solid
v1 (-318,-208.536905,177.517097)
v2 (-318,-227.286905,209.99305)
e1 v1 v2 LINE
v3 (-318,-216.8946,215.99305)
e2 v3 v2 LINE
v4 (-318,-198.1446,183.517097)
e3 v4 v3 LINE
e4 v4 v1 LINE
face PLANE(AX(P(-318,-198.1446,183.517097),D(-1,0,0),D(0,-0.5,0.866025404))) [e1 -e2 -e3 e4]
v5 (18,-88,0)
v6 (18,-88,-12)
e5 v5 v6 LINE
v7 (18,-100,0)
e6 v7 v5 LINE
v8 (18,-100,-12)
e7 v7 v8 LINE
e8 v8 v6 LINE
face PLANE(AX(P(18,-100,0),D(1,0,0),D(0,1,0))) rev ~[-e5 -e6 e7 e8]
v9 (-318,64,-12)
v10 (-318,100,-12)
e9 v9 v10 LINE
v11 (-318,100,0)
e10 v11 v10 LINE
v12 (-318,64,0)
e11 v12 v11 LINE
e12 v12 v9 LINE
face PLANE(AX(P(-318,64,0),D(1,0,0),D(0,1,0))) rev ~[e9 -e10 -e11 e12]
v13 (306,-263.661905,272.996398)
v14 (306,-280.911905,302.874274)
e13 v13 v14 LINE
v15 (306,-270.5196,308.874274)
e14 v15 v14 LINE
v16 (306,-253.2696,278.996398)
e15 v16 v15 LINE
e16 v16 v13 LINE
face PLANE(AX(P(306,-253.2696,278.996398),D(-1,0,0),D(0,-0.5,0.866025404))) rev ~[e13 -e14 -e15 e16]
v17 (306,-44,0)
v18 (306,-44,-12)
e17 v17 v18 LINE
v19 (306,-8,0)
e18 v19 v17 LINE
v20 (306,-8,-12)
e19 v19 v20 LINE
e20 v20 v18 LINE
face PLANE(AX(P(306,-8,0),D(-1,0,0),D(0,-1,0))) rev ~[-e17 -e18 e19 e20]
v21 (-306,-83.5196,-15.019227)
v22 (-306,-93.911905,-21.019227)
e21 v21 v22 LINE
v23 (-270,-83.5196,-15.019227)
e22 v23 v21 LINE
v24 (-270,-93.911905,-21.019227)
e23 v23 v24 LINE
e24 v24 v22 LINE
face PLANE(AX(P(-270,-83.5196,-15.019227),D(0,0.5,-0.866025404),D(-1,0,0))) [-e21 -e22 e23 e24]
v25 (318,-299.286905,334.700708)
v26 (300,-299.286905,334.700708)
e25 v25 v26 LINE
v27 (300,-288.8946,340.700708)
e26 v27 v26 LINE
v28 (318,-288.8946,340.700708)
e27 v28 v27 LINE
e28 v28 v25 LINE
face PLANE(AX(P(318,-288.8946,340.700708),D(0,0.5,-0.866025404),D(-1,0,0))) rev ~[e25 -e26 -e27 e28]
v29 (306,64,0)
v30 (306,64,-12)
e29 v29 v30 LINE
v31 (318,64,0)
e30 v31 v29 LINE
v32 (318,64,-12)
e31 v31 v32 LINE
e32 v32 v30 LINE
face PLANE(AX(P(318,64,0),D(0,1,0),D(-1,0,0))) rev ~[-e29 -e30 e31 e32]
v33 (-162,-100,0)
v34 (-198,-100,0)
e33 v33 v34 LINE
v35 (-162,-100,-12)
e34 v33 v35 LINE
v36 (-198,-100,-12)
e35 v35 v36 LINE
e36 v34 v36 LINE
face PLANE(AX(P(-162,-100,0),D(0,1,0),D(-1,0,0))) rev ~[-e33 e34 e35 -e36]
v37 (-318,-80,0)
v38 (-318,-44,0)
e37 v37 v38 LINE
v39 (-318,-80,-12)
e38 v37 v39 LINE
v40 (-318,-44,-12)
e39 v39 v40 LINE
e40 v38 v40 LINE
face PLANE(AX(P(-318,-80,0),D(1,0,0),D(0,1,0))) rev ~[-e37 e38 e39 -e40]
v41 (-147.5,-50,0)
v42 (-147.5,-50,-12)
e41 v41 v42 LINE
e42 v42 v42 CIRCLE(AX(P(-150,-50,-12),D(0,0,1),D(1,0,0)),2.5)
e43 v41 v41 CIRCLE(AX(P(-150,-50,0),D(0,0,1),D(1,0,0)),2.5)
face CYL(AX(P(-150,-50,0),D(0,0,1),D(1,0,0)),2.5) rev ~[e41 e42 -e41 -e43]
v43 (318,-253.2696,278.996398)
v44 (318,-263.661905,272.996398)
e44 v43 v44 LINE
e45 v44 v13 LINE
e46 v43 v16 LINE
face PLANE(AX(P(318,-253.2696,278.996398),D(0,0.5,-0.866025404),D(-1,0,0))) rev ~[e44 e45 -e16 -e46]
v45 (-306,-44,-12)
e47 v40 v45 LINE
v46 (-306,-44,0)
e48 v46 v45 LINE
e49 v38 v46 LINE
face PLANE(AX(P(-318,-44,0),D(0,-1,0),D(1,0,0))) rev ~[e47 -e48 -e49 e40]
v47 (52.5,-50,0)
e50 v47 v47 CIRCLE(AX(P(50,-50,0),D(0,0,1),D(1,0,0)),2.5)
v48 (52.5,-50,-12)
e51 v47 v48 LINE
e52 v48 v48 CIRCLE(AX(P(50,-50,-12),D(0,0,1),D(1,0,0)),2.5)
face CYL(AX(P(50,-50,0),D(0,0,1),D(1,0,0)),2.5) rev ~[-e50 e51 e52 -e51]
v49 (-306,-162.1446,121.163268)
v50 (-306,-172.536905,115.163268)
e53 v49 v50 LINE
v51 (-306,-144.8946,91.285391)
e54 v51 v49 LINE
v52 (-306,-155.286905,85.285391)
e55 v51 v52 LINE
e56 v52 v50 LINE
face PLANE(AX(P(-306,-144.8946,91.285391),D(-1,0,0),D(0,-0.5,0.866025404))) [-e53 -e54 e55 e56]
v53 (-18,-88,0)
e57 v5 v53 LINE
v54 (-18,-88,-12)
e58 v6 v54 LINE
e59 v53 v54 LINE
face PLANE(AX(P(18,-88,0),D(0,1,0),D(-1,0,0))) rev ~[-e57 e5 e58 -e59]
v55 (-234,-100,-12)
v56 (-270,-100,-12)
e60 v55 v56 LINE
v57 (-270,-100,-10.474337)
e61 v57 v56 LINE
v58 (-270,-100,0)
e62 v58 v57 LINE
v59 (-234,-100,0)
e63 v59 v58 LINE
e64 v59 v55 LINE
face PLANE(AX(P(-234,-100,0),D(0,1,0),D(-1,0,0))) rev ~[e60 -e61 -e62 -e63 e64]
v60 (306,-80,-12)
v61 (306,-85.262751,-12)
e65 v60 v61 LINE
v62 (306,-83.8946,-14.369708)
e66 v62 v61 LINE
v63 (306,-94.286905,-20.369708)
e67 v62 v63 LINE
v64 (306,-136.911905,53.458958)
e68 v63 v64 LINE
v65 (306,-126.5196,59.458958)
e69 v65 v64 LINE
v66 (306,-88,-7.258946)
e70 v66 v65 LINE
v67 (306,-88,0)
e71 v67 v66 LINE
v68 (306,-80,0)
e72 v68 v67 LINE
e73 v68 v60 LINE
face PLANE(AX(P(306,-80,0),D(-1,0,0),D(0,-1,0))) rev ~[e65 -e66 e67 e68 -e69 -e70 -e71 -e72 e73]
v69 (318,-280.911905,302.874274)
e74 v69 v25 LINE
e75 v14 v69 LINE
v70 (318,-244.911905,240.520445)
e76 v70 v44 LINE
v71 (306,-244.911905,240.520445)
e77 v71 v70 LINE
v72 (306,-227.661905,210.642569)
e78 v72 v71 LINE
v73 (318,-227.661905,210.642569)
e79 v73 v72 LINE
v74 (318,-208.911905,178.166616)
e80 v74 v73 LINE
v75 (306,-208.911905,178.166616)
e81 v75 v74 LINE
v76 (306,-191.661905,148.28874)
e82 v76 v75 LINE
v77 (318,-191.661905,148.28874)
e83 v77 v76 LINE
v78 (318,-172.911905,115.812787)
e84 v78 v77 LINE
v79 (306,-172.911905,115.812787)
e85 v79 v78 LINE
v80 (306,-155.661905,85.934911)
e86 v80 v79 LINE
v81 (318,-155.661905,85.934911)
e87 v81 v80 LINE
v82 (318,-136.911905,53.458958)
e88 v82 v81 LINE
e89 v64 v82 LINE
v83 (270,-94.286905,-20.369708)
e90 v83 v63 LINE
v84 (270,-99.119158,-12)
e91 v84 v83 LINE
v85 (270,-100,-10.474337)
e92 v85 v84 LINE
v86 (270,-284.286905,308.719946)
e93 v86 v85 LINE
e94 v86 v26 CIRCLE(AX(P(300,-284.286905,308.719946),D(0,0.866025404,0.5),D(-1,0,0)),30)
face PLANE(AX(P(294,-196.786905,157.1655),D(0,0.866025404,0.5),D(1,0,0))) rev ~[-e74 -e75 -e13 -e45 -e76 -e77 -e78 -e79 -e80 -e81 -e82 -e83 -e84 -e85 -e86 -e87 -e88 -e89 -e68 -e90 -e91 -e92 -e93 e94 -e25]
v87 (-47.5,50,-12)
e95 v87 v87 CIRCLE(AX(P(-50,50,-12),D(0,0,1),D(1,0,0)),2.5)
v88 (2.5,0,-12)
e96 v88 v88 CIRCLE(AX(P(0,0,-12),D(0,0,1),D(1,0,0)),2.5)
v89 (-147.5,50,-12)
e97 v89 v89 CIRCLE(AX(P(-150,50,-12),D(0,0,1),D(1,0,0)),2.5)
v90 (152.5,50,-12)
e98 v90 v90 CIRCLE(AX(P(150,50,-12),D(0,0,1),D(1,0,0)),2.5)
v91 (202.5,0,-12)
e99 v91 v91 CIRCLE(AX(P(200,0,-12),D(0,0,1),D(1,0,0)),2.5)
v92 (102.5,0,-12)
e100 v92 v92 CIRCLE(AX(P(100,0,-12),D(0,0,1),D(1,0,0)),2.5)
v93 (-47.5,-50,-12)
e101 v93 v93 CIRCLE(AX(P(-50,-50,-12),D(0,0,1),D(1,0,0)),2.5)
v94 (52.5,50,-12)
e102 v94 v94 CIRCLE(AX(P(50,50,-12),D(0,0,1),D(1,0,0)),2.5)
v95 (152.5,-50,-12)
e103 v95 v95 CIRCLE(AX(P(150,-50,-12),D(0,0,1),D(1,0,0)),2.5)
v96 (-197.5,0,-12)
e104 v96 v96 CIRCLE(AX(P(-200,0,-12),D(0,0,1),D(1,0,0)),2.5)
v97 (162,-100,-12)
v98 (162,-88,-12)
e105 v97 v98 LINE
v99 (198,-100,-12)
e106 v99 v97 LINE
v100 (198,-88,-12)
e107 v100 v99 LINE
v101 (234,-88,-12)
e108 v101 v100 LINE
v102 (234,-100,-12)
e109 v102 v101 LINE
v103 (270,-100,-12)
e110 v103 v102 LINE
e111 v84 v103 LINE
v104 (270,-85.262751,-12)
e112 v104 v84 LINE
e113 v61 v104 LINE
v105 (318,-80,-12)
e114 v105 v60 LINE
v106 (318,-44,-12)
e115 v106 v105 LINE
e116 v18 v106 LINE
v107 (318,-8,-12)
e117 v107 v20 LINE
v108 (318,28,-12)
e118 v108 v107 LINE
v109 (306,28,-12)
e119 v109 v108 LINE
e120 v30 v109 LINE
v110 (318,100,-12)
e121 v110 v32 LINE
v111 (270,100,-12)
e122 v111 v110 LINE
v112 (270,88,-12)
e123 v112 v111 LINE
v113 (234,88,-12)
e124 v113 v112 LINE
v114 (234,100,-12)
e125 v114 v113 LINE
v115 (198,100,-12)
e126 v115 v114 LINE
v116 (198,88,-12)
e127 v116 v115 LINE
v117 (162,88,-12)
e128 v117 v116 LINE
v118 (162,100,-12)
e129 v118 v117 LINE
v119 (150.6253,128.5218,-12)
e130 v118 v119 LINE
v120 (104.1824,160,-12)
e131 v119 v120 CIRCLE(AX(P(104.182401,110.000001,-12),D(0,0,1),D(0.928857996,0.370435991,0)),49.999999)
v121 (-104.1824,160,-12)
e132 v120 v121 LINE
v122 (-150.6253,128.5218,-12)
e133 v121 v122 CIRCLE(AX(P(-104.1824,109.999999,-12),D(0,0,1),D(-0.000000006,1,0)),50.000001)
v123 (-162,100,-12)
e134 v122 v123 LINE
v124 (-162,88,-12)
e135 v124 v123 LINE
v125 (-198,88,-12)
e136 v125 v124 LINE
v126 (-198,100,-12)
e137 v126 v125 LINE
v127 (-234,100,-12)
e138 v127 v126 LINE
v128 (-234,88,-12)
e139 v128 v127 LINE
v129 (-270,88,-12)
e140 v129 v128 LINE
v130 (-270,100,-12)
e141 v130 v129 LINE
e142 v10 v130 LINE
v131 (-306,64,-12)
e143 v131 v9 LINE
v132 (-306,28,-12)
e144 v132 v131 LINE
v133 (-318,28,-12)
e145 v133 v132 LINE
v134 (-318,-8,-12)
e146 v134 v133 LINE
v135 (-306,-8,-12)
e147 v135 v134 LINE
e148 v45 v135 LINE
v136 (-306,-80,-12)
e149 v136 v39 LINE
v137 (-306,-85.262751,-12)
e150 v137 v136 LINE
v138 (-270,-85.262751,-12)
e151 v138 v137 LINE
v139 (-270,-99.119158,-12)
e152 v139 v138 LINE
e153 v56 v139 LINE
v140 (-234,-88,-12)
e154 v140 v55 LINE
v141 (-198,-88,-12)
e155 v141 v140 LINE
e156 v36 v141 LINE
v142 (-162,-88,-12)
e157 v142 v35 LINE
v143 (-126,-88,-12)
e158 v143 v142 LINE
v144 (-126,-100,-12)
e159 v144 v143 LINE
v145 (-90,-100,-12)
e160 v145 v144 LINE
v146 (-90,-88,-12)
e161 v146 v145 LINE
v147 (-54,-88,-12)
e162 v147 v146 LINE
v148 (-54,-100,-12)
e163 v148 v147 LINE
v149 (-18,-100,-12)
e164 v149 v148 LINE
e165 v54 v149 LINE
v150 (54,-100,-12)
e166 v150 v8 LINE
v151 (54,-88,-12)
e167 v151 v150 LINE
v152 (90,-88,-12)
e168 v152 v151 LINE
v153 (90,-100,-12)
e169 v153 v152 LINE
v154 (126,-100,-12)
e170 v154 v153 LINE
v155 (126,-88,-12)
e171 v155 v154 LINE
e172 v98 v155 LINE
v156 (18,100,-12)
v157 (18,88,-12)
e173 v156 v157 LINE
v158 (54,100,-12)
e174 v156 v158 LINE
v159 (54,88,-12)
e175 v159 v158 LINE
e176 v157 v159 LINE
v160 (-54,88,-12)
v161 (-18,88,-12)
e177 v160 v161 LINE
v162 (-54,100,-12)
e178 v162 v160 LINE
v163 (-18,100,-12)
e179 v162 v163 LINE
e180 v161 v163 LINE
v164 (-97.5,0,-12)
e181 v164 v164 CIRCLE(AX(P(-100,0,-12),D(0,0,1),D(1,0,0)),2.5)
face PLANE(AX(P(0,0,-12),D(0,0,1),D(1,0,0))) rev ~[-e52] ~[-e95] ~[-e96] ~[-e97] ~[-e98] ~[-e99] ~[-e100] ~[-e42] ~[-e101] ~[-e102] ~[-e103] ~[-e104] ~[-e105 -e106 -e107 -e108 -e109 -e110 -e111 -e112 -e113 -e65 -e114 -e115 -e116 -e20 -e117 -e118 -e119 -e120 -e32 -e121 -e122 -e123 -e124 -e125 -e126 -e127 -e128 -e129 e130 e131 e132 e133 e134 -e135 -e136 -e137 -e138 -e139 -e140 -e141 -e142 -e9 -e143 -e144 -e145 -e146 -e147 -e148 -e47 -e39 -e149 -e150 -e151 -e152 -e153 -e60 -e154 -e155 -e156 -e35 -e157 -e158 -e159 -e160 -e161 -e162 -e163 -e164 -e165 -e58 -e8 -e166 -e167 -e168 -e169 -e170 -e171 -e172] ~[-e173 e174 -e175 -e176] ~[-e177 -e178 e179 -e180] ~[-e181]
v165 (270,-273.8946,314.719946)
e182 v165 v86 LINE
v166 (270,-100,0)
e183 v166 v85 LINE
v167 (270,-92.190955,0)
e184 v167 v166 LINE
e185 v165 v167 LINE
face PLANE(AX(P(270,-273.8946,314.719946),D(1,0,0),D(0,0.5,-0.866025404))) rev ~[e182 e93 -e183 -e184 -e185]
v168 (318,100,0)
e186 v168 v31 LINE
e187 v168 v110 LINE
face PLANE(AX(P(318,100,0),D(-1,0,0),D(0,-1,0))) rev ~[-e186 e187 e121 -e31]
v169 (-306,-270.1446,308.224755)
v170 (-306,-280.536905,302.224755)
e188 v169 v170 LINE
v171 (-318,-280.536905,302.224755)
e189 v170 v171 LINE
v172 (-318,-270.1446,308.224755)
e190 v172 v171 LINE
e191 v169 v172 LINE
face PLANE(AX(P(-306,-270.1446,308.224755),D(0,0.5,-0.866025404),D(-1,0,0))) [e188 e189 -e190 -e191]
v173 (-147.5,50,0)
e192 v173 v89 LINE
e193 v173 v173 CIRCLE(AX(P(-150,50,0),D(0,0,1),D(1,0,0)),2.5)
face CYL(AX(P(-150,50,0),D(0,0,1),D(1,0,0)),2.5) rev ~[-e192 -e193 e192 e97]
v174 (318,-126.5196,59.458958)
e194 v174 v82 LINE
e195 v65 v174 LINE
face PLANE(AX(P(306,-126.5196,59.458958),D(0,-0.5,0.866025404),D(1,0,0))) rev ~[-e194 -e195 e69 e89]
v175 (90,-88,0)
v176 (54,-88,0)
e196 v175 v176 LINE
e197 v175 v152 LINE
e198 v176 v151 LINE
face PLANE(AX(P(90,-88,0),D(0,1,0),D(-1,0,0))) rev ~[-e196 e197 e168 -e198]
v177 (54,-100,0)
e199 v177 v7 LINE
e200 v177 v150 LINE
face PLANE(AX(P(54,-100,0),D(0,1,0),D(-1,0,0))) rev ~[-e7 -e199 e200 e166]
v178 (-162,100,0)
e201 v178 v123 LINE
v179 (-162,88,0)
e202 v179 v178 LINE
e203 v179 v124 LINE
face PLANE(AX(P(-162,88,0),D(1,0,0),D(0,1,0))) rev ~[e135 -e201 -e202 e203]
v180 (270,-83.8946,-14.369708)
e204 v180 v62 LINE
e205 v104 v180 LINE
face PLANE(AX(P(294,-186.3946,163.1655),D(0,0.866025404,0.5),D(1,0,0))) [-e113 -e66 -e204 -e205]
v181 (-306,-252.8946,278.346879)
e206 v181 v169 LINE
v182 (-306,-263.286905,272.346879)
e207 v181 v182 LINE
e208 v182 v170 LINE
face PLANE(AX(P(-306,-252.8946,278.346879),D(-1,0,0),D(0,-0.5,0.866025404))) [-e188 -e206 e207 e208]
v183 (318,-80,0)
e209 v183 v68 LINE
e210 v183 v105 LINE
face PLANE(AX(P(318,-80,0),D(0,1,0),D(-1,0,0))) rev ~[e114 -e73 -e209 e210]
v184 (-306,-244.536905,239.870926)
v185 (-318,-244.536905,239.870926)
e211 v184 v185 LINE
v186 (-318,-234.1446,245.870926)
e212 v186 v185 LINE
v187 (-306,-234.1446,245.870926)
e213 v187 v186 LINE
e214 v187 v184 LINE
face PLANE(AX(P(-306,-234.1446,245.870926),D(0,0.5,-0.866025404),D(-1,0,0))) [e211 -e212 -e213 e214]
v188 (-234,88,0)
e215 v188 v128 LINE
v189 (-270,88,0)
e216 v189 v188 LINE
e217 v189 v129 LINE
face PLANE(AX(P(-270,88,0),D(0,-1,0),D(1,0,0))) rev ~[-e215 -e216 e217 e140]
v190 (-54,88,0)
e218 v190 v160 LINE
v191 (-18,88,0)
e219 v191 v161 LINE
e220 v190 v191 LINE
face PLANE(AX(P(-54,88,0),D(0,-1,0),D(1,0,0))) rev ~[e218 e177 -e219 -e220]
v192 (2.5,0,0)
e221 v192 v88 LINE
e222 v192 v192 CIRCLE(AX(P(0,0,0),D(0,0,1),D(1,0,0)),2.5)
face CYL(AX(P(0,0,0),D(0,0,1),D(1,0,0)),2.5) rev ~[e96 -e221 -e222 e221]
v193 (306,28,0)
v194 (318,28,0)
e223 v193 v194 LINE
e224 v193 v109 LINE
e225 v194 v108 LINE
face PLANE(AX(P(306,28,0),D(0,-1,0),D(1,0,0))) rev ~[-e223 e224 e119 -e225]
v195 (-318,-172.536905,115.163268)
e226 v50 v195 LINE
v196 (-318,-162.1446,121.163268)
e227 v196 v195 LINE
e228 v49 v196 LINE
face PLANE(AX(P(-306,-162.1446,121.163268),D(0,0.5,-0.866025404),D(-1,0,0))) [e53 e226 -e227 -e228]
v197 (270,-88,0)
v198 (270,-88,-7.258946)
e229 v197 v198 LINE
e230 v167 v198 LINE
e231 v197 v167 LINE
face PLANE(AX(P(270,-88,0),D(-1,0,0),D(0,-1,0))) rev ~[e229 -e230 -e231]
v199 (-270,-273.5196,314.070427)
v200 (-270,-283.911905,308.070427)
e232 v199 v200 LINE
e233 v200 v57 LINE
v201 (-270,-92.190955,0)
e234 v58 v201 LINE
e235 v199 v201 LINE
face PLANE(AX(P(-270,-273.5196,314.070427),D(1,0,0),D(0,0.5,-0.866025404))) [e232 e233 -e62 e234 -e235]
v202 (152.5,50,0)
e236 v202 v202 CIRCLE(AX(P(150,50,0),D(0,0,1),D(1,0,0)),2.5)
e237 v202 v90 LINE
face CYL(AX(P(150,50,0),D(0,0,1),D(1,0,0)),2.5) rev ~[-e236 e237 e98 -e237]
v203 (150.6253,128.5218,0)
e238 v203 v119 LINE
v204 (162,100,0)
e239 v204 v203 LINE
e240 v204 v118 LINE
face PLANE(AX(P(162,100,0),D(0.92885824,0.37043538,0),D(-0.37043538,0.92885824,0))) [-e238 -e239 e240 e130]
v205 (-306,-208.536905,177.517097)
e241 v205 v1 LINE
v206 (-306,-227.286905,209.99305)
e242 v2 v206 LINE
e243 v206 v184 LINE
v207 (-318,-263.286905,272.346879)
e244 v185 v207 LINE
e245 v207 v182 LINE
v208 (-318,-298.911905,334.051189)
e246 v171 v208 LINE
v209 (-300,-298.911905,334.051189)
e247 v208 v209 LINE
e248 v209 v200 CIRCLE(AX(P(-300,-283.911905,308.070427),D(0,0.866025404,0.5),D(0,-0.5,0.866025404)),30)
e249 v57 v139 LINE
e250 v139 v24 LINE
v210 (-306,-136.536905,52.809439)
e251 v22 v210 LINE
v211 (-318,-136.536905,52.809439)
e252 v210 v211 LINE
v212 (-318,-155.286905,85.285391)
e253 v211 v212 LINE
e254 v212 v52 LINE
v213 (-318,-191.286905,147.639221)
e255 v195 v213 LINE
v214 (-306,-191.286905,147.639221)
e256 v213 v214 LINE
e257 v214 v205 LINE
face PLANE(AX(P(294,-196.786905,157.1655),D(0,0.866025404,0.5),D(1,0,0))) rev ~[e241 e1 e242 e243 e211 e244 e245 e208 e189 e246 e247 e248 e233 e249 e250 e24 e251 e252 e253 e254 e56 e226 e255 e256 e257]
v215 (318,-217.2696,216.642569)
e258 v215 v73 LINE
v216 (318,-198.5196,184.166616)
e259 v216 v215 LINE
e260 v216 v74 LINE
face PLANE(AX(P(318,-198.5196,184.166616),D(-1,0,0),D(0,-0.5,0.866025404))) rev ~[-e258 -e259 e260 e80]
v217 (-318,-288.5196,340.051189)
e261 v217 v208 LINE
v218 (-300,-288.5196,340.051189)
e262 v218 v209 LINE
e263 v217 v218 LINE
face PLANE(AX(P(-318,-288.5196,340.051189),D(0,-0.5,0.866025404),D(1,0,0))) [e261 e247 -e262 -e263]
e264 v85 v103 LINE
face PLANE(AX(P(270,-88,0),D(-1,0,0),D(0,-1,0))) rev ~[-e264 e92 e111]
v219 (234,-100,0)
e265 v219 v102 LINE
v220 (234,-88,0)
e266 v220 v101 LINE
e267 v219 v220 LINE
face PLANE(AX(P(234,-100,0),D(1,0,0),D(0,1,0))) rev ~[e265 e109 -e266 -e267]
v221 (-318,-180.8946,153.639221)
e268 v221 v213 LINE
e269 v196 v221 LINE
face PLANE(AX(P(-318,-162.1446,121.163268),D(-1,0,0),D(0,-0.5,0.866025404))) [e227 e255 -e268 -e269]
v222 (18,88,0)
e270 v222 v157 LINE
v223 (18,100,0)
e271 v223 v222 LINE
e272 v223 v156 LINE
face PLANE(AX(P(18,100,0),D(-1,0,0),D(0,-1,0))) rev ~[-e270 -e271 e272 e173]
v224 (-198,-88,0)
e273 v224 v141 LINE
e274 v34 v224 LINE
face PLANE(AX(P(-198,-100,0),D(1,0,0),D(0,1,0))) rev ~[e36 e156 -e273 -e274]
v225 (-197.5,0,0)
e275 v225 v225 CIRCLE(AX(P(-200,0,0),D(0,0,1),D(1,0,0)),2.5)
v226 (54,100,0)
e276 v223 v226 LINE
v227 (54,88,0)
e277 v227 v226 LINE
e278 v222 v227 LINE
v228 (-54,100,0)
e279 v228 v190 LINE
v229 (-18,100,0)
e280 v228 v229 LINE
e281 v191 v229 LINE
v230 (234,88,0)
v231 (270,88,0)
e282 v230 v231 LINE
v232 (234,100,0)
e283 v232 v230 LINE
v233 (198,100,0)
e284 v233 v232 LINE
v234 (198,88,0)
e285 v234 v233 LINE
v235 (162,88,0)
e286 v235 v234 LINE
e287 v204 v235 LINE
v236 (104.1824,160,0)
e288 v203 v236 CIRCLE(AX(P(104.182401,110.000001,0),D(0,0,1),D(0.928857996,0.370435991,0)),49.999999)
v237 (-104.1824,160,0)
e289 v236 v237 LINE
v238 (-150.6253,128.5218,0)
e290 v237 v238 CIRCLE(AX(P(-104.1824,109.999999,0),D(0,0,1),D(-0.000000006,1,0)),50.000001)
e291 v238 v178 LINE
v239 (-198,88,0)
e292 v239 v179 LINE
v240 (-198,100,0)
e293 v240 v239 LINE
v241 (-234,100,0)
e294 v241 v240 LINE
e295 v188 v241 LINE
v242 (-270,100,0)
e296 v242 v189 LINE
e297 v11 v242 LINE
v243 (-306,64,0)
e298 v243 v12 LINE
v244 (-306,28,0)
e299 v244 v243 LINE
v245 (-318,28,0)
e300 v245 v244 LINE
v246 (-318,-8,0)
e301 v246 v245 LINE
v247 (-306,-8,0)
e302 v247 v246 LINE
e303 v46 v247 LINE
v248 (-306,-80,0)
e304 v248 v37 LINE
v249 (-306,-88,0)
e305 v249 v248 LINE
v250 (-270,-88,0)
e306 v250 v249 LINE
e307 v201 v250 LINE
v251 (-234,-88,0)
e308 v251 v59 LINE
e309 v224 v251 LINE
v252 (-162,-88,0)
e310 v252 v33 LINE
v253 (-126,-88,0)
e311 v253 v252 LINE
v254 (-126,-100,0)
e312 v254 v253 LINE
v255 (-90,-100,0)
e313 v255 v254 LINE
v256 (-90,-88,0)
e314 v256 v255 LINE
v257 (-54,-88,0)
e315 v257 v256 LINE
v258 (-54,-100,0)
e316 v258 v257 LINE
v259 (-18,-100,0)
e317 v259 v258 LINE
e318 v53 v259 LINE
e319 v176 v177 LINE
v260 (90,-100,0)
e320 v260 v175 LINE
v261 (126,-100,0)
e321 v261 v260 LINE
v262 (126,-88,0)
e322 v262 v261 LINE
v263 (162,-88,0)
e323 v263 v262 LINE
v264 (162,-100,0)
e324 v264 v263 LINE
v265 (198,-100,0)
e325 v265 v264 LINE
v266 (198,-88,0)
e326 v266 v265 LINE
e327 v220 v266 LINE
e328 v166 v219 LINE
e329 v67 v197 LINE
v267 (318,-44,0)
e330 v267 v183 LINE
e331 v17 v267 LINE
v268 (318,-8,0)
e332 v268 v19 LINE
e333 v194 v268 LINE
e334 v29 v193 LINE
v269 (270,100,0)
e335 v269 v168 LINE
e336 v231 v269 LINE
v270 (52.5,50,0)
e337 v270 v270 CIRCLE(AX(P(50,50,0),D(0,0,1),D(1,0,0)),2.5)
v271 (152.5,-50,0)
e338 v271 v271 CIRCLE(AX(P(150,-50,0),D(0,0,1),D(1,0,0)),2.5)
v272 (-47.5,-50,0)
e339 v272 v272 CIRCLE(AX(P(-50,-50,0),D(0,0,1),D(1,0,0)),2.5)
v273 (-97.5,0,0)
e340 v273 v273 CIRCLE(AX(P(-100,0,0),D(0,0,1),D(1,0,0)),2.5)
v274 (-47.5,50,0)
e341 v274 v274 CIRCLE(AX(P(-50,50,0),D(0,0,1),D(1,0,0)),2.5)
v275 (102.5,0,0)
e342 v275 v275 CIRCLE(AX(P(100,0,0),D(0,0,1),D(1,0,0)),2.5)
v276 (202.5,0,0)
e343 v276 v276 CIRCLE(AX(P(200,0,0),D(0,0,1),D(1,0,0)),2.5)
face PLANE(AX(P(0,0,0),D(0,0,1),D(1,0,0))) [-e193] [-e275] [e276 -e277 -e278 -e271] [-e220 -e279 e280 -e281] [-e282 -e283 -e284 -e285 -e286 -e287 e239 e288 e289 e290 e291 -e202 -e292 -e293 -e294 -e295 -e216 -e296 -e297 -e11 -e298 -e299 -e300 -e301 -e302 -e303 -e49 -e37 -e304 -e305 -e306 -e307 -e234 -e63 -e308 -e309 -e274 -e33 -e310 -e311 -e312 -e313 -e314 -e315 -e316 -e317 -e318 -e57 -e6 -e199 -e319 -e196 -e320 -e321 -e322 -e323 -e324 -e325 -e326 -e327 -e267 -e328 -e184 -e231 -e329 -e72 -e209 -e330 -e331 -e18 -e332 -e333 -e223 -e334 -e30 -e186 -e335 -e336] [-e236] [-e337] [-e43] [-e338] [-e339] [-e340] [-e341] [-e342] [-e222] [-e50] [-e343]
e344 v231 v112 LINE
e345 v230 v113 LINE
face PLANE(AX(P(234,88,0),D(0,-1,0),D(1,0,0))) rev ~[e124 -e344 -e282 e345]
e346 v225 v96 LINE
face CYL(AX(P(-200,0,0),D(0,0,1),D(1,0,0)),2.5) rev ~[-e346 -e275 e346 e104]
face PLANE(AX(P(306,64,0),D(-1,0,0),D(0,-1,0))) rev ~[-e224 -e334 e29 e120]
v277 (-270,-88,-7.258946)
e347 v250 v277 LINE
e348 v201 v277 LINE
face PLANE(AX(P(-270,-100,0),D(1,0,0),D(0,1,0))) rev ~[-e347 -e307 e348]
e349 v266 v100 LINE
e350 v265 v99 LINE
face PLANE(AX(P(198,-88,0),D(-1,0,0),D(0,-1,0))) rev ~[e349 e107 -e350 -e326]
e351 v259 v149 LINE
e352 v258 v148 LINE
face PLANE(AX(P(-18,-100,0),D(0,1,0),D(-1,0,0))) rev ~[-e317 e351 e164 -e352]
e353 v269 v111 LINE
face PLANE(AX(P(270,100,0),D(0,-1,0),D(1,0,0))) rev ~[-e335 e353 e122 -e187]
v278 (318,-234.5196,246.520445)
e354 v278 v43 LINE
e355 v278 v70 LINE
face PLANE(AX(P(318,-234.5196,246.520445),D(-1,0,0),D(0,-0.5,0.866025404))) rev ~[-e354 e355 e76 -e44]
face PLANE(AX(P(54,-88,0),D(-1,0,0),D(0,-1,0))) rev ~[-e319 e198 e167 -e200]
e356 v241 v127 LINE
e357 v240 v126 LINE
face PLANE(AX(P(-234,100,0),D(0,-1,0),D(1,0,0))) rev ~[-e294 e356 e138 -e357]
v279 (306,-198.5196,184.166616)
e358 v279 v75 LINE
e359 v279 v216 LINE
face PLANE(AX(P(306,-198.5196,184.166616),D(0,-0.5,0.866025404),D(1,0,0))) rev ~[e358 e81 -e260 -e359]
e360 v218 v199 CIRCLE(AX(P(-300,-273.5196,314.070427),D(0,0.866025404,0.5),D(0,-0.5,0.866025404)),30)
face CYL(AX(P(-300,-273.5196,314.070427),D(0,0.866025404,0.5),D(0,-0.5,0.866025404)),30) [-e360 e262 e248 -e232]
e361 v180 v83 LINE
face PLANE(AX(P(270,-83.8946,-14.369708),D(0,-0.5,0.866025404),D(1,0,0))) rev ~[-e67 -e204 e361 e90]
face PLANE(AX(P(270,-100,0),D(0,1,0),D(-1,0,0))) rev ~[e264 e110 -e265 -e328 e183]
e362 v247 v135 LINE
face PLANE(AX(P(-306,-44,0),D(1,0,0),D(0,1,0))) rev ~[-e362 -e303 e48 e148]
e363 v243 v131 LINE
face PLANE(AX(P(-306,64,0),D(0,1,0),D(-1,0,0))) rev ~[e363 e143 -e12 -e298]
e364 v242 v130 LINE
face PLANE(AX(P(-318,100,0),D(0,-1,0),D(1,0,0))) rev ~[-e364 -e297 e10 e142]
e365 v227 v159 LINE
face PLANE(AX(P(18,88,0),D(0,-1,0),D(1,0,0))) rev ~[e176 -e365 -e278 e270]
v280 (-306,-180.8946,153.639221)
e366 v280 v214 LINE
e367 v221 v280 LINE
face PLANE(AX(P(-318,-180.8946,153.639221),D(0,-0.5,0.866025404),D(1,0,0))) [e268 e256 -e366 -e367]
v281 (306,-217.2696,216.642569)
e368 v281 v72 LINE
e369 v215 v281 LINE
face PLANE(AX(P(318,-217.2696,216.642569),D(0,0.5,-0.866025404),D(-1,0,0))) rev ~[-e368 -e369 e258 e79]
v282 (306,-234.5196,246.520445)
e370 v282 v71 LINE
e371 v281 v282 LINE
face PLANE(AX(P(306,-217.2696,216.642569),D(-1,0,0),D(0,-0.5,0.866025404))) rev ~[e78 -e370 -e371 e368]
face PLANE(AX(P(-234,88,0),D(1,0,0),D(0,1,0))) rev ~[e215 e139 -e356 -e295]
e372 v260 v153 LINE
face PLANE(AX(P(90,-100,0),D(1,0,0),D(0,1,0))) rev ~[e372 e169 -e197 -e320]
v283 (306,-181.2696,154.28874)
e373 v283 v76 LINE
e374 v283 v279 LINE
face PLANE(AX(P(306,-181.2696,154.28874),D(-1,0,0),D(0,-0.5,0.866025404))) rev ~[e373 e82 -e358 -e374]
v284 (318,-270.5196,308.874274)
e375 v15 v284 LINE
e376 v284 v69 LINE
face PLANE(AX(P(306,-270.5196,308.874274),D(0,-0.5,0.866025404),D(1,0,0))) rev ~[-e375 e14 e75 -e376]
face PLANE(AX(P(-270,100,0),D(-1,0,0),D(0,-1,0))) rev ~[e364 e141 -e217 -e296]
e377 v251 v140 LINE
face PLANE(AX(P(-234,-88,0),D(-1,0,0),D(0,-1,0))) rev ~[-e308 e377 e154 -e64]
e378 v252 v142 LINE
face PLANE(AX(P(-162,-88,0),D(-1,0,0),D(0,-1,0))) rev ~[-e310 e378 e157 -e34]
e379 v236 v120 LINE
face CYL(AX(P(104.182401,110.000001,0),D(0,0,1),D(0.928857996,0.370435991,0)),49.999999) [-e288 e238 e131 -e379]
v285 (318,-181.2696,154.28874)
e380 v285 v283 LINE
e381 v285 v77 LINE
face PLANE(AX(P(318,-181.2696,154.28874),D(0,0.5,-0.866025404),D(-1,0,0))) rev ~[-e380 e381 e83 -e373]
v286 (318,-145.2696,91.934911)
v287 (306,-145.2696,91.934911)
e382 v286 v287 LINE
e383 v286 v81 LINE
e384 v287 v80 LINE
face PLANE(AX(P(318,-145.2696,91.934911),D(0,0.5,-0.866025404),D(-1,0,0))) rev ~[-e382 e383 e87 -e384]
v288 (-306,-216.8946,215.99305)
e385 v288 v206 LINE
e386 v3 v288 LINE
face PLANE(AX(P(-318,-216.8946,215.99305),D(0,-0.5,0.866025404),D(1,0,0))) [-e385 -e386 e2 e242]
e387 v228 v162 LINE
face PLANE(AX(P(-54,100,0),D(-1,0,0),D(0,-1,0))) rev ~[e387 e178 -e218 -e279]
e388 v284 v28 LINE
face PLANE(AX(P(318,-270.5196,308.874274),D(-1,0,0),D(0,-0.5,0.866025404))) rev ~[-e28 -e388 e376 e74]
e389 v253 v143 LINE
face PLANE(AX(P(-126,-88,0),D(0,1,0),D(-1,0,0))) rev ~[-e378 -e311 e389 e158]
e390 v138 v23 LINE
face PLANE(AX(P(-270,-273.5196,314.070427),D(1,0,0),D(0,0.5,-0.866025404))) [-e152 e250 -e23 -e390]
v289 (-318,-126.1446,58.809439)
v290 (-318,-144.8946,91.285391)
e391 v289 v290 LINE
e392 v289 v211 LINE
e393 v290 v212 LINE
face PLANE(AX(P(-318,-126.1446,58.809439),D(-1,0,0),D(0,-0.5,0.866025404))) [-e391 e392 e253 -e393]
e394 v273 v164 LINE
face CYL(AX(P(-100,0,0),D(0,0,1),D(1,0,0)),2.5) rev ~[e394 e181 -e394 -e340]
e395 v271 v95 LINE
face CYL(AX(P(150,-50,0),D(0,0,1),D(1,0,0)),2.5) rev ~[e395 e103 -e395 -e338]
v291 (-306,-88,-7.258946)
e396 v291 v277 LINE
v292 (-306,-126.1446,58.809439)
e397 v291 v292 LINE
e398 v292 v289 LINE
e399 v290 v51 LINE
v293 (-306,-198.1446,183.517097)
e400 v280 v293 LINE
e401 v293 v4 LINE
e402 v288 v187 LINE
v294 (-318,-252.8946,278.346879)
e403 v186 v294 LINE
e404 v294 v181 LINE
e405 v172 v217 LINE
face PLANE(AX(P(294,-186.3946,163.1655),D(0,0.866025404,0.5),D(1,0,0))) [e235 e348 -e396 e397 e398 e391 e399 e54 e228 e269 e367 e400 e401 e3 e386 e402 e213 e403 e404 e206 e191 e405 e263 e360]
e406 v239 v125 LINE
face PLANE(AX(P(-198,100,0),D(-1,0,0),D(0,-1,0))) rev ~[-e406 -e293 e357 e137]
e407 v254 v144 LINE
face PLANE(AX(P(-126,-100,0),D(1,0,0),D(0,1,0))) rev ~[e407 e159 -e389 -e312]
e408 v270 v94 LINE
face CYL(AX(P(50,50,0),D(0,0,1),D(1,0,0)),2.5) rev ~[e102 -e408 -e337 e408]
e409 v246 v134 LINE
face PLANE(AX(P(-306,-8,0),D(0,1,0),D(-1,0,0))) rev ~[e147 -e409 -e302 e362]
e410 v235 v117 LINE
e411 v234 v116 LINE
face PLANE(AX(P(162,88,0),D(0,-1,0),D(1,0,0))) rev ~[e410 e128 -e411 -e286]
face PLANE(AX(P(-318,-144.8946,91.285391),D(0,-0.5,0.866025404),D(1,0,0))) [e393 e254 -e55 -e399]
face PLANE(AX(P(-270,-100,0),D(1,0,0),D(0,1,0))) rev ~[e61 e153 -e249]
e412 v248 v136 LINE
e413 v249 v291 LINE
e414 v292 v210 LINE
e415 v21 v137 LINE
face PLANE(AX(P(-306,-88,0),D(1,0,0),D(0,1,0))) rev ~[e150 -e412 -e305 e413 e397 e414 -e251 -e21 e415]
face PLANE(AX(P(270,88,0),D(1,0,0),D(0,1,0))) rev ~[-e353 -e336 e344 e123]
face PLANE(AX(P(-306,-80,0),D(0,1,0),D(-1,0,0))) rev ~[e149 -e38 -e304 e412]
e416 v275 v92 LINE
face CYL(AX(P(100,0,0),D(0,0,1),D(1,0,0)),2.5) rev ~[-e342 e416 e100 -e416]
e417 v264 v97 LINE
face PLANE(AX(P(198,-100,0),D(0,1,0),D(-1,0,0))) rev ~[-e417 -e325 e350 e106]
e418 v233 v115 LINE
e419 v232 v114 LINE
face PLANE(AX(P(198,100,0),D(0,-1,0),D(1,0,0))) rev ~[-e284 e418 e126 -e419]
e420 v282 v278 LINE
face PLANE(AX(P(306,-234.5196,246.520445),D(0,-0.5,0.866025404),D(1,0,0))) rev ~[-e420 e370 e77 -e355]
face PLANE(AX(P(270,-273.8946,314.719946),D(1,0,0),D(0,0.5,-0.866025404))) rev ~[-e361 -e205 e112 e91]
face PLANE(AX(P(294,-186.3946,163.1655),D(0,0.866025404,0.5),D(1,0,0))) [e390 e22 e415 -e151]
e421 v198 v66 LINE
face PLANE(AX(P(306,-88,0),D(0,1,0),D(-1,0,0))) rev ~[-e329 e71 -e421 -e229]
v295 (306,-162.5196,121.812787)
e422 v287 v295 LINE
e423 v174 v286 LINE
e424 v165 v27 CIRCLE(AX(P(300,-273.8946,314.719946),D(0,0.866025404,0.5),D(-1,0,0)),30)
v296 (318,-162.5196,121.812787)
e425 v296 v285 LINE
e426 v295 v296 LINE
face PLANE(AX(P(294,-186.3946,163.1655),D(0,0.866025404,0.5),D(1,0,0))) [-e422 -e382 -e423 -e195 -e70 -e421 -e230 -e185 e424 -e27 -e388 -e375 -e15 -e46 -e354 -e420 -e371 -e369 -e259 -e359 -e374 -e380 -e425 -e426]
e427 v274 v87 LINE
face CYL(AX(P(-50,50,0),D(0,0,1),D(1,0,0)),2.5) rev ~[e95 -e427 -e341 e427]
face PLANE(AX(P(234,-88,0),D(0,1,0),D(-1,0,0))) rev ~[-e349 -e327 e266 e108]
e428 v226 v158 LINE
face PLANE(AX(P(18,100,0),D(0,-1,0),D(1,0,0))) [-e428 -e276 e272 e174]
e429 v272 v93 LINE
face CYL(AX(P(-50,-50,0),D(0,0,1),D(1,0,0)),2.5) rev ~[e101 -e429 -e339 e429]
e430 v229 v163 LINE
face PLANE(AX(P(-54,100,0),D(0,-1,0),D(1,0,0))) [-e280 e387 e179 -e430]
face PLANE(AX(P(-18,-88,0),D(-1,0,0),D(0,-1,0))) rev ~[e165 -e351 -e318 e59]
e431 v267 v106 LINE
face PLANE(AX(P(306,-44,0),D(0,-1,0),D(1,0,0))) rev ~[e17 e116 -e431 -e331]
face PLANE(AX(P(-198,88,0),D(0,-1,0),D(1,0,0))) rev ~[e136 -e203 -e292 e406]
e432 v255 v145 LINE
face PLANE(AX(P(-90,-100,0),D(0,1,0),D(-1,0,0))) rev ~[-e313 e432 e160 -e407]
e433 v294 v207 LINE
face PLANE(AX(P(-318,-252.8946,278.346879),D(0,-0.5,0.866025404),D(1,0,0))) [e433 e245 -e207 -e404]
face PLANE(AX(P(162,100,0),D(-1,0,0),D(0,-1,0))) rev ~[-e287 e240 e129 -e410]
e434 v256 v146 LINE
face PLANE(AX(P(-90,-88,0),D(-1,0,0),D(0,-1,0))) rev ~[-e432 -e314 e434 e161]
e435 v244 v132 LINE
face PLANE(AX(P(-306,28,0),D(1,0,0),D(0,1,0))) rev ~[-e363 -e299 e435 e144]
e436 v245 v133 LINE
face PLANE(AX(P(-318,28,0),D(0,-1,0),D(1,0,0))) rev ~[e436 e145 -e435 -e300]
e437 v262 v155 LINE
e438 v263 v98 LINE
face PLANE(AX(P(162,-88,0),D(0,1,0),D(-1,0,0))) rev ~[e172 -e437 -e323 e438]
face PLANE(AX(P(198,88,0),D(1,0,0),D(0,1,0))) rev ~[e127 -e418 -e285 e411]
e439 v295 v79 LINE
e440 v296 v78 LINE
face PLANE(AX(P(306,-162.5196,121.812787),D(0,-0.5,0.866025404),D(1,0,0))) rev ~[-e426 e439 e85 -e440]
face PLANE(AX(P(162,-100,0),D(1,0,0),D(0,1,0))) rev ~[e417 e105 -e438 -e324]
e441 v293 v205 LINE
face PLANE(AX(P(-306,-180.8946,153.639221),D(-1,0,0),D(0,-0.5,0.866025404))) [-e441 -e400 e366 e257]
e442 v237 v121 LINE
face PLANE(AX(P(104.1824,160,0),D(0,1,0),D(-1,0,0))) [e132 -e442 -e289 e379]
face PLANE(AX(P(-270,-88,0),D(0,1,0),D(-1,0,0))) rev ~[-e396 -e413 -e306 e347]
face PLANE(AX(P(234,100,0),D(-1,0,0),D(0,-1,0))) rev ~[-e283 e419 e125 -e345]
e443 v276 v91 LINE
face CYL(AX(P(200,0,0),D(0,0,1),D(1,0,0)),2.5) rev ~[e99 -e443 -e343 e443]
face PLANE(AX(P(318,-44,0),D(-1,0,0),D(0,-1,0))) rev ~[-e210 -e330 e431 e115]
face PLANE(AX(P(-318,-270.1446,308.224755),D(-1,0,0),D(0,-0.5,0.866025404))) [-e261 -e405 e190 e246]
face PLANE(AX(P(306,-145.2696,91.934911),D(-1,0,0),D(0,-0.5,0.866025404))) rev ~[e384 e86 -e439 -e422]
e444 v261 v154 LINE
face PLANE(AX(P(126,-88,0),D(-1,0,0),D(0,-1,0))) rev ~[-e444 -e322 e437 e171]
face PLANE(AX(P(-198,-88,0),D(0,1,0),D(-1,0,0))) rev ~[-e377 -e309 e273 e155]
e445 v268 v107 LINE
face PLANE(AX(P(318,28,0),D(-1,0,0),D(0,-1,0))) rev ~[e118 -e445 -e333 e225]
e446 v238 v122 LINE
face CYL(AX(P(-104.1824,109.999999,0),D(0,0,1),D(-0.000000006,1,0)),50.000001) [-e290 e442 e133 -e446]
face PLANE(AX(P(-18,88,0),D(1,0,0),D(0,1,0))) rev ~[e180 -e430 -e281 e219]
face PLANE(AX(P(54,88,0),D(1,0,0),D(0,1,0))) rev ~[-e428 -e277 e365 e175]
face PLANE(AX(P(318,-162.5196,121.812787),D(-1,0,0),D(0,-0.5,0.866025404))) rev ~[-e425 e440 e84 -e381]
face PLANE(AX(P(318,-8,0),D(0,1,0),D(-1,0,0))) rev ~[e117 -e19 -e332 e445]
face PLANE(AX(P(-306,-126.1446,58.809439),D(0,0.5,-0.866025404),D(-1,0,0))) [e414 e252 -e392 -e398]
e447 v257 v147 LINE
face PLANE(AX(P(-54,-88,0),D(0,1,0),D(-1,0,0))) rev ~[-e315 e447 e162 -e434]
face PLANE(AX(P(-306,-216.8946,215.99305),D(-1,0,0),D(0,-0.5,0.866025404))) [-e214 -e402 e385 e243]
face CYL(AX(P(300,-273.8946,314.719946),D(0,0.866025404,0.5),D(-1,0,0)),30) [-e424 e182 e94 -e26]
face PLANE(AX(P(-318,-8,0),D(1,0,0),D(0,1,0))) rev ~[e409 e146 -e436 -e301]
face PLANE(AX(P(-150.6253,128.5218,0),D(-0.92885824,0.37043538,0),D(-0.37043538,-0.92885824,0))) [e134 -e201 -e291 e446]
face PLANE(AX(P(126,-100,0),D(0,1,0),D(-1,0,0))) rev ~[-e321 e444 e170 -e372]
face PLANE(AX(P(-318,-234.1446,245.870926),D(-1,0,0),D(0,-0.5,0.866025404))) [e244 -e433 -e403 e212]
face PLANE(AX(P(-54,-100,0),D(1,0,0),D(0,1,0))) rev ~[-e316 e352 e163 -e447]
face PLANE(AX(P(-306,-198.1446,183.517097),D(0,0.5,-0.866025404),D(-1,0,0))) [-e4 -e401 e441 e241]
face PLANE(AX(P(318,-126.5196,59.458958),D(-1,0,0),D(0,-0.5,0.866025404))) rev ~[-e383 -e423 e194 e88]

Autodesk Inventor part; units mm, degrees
ref_plane "YZ Plane" through (0, 0, 0) normal (1, 0, 0) x (0, 1, 0)
ref_plane "XZ Plane" through (0, 0, 0) normal (0, 1, 0) x (-1, 0, 0)
ref_plane "XY Plane" through (0, 0, 0) normal (0, 0, 1) x (1, 0, 0)
ref_plane "Work Plane1" through (0, 0, 0) normal (0, 0, 1) x (1, 0, 0)
sketch "Sketch1" plane through (0, 0, 0) normal (0, 0, 1) x (1, 0, 0)
  line L0 (54, 88) -> (54, 100) projected
  line L1 (18, 88) -> (54, 88) projected
  line L2 (18, 100) -> (18, 88) projected
  line L3 (18, 100) -> (54, 100) projected
  line L4 (-18, 88) -> (-18, 100) projected
  line L5 (-54, 88) -> (-18, 88) projected
  line L6 (-54, 100) -> (-54, 88) projected
  line L7 (-54, 100) -> (-18, 100) projected
  line L8 (162, 100) -> (150.6253, 128.5218) projected
  arc A0 (150.6253, 128.5218) -> (104.1824, 160) centre (104.1824, 110) ccw projected
  line L9 (104.1824, 160) -> (-104.1824, 160) projected
  arc A1 (-104.1824, 160) -> (-150.6253, 128.5218) centre (-104.1824, 110) ccw projected
  line L10 (-150.6253, 128.5218) -> (-162, 100) projected
  line L11 (-162, 88) -> (-162, 100) projected
  line L12 (-198, 88) -> (-162, 88) projected
  line L13 (-198, 100) -> (-198, 88) projected
  line L14 (-234, 100) -> (-198, 100) projected
  line L15 (-234, 88) -> (-234, 100) projected
  line L16 (-270, 88) -> (-234, 88) projected
  line L17 (-270, 100) -> (-270, 88) projected
  line L18 (-318, 100) -> (-270, 100) projected
  line L19 (-318, 64) -> (-318, 100) projected
  line L20 (-306, 64) -> (-318, 64) projected
  line L21 (-306, 28) -> (-306, 64) projected
  line L22 (-318, 28) -> (-306, 28) projected
  line L23 (-318, -8) -> (-318, 28) projected
  line L24 (-306, -8) -> (-318, -8) projected
  line L25 (-306, -44) -> (-306, -8) projected
  line L26 (-318, -44) -> (-306, -44) projected
  line L27 (-318, -80) -> (-318, -44) projected
  line L28 (-306, -80) -> (-318, -80) projected
  line L29 (-306, -88) -> (-306, -80) projected
  line L30 (-270, -88) -> (-306, -88) projected
  line L31 (-270, -100) -> (-270, -88) projected
  line L32 (-234, -100) -> (-270, -100) projected
  line L33 (-234, -88) -> (-234, -100) projected
  line L34 (-198, -88) -> (-234, -88) projected
  line L35 (-198, -100) -> (-198, -88) projected
  line L36 (-162, -100) -> (-198, -100) projected
  line L37 (-162, -88) -> (-162, -100) projected
  line L38 (-126, -88) -> (-162, -88) projected
  line L39 (-126, -100) -> (-126, -88) projected
  line L40 (-90, -100) -> (-126, -100) projected
  line L41 (-90, -88) -> (-90, -100) projected
  line L42 (-54, -88) -> (-90, -88) projected
  line L43 (-54, -100) -> (-54, -88) projected
  line L44 (-18, -100) -> (-54, -100) projected
  line L45 (-18, -88) -> (-18, -100) projected
  line L46 (18, -88) -> (-18, -88) projected
  line L47 (18, -100) -> (18, -88) projected
  line L48 (54, -100) -> (18, -100) projected
  line L49 (54, -88) -> (54, -100) projected
  line L50 (90, -88) -> (54, -88) projected
  line L51 (90, -100) -> (90, -88) projected
  line L52 (126, -100) -> (90, -100) projected
  line L53 (126, -88) -> (126, -100) projected
  line L54 (162, -88) -> (126, -88) projected
  line L55 (162, -100) -> (162, -88) projected
  line L56 (198, -100) -> (162, -100) projected
  line L57 (198, -88) -> (198, -100) projected
  line L58 (234, -88) -> (198, -88) projected
  line L59 (234, -100) -> (234, -88) projected
  line L60 (270, -100) -> (234, -100) projected
  line L61 (270, -88) -> (270, -100) projected
  line L62 (306, -88) -> (270, -88) projected
  line L63 (306, -80) -> (306, -88) projected
  line L64 (318, -80) -> (306, -80) projected
  line L65 (318, -44) -> (318, -80) projected
  line L66 (306, -44) -> (318, -44) projected
  line L67 (306, -8) -> (306, -44) projected
  line L68 (318, -8) -> (306, -8) projected
  line L69 (318, 28) -> (318, -8) projected
  line L70 (306, 28) -> (318, 28) projected
  line L71 (306, 64) -> (306, 28) projected
  line L72 (318, 64) -> (306, 64) projected
  line L73 (318, 100) -> (318, 64) projected
  line L74 (270, 100) -> (318, 100) projected
  line L75 (270, 88) -> (270, 100) projected
  line L76 (234, 88) -> (270, 88) projected
  line L77 (234, 100) -> (234, 88) projected
  line L78 (198, 100) -> (234, 100) projected
  line L79 (198, 88) -> (198, 100) projected
  line L80 (162, 88) -> (198, 88) projected
  line L81 (162, 100) -> (162, 88) projected
  circle A2 centre (-50, -50) radius 2.5 projected
  circle A3 centre (150, -50) radius 2.5 projected
  circle A4 centre (-150, 50) radius 2.5 projected
  circle A5 centre (50, 50) radius 2.5 projected
  circle A6 centre (150, 50) radius 2.5 projected
  circle A7 centre (-100, 0) radius 2.5 projected
  circle A8 centre (-200, 0) radius 2.5 projected
  circle A9 centre (200, 0) radius 2.5 projected
  circle A10 centre (100, 0) radius 2.5 projected
  circle A11 centre (0, 0) radius 2.5 projected
  circle A12 centre (-50, 50) radius 2.5 projected
  circle A13 centre (50, -50) radius 2.5 projected
  circle A14 centre (-150, -50) radius 2.5 projected
  point P0 (0, 0)
ref_plane "Work Plane2" through (294, -186.3946, 163.1655) normal (0, 0.866, 0.5) x (1, 0, 0)
sketch "Sketch2" plane through (294, -186.3946, 163.1655) normal (0, 0.866, 0.5) x (1, 0, 0)
  line L0 (24, -205) -> (6, -205) projected
  line L1 (24, -168.25) -> (24, -205) projected
  line L2 (12, -168.25) -> (24, -168.25) projected
  line L3 (12, -133.75) -> (12, -168.25) projected
  line L4 (24, -133.75) -> (12, -133.75) projected
  line L5 (24, -96.25) -> (24, -133.75) projected
  line L6 (12, -96.25) -> (24, -96.25) projected
  line L7 (12, -61.75) -> (12, -96.25) projected
  line L8 (24, -61.75) -> (12, -61.75) projected
  line L9 (24, -24.25) -> (24, -61.75) projected
  line L10 (12, -24.25) -> (24, -24.25) projected
  line L11 (12, 10.25) -> (12, -24.25) projected
  line L12 (24, 10.25) -> (12, 10.25) projected
  line L13 (24, 47.75) -> (24, 10.25) projected
  line L14 (12, 47.75) -> (24, 47.75) projected
  line L15 (12, 82.25) -> (12, 47.75) projected
  line L16 (24, 82.25) -> (12, 82.25) projected
  line L17 (24, 119.75) -> (24, 82.25) projected
  line L18 (12, 119.75) -> (24, 119.75) projected
  line L19 (12, 205) -> (12, 119.75) projected
  line L20 (-24, 205) -> (12, 205) projected
  line L21 (-24, -175) -> (-24, 205) projected
  arc A0 (-24, -175) -> (6, -205) centre (6, -175) ccw projected
  line L22 (-612, -204.25) -> (-594, -204.25) projected
  arc A1 (-594, -204.25) -> (-564, -174.25) centre (-594, -174.25) ccw projected
  line L23 (-564, -174.25) -> (-564, 205.75) projected
  line L24 (-564, 205.75) -> (-600, 205.75) projected
  line L25 (-600, 205.75) -> (-600, 120.5) projected
  line L26 (-600, 120.5) -> (-612, 120.5) projected
  line L27 (-612, 120.5) -> (-612, 83) projected
  line L28 (-612, 83) -> (-600, 83) projected
  line L29 (-600, 83) -> (-600, 48.5) projected
  line L30 (-600, 48.5) -> (-612, 48.5) projected
  line L31 (-612, 48.5) -> (-612, 11) projected
  line L32 (-612, 11) -> (-600, 11) projected
  line L33 (-600, 11) -> (-600, -23.5) projected
  line L34 (-600, -23.5) -> (-612, -23.5) projected
  line L35 (-612, -23.5) -> (-612, -61) projected
  line L36 (-612, -61) -> (-600, -61) projected
  line L37 (-600, -61) -> (-600, -95.5) projected
  line L38 (-600, -95.5) -> (-612, -95.5) projected
  line L39 (-612, -95.5) -> (-612, -133) projected
  line L40 (-612, -133) -> (-600, -133) projected
  line L41 (-600, -133) -> (-600, -167.5) projected
  line L42 (-600, -167.5) -> (-612, -167.5) projected
  line L43 (-612, -167.5) -> (-612, -204.25) projected
  point P0 (-294, 234.5028)
extrude "Extrusion1" add sketch "Sketch1" against normal blind 12
extrude "Extrusion2" add sketch "Sketch2" against normal blind 12
properties part number "mounting_points"
